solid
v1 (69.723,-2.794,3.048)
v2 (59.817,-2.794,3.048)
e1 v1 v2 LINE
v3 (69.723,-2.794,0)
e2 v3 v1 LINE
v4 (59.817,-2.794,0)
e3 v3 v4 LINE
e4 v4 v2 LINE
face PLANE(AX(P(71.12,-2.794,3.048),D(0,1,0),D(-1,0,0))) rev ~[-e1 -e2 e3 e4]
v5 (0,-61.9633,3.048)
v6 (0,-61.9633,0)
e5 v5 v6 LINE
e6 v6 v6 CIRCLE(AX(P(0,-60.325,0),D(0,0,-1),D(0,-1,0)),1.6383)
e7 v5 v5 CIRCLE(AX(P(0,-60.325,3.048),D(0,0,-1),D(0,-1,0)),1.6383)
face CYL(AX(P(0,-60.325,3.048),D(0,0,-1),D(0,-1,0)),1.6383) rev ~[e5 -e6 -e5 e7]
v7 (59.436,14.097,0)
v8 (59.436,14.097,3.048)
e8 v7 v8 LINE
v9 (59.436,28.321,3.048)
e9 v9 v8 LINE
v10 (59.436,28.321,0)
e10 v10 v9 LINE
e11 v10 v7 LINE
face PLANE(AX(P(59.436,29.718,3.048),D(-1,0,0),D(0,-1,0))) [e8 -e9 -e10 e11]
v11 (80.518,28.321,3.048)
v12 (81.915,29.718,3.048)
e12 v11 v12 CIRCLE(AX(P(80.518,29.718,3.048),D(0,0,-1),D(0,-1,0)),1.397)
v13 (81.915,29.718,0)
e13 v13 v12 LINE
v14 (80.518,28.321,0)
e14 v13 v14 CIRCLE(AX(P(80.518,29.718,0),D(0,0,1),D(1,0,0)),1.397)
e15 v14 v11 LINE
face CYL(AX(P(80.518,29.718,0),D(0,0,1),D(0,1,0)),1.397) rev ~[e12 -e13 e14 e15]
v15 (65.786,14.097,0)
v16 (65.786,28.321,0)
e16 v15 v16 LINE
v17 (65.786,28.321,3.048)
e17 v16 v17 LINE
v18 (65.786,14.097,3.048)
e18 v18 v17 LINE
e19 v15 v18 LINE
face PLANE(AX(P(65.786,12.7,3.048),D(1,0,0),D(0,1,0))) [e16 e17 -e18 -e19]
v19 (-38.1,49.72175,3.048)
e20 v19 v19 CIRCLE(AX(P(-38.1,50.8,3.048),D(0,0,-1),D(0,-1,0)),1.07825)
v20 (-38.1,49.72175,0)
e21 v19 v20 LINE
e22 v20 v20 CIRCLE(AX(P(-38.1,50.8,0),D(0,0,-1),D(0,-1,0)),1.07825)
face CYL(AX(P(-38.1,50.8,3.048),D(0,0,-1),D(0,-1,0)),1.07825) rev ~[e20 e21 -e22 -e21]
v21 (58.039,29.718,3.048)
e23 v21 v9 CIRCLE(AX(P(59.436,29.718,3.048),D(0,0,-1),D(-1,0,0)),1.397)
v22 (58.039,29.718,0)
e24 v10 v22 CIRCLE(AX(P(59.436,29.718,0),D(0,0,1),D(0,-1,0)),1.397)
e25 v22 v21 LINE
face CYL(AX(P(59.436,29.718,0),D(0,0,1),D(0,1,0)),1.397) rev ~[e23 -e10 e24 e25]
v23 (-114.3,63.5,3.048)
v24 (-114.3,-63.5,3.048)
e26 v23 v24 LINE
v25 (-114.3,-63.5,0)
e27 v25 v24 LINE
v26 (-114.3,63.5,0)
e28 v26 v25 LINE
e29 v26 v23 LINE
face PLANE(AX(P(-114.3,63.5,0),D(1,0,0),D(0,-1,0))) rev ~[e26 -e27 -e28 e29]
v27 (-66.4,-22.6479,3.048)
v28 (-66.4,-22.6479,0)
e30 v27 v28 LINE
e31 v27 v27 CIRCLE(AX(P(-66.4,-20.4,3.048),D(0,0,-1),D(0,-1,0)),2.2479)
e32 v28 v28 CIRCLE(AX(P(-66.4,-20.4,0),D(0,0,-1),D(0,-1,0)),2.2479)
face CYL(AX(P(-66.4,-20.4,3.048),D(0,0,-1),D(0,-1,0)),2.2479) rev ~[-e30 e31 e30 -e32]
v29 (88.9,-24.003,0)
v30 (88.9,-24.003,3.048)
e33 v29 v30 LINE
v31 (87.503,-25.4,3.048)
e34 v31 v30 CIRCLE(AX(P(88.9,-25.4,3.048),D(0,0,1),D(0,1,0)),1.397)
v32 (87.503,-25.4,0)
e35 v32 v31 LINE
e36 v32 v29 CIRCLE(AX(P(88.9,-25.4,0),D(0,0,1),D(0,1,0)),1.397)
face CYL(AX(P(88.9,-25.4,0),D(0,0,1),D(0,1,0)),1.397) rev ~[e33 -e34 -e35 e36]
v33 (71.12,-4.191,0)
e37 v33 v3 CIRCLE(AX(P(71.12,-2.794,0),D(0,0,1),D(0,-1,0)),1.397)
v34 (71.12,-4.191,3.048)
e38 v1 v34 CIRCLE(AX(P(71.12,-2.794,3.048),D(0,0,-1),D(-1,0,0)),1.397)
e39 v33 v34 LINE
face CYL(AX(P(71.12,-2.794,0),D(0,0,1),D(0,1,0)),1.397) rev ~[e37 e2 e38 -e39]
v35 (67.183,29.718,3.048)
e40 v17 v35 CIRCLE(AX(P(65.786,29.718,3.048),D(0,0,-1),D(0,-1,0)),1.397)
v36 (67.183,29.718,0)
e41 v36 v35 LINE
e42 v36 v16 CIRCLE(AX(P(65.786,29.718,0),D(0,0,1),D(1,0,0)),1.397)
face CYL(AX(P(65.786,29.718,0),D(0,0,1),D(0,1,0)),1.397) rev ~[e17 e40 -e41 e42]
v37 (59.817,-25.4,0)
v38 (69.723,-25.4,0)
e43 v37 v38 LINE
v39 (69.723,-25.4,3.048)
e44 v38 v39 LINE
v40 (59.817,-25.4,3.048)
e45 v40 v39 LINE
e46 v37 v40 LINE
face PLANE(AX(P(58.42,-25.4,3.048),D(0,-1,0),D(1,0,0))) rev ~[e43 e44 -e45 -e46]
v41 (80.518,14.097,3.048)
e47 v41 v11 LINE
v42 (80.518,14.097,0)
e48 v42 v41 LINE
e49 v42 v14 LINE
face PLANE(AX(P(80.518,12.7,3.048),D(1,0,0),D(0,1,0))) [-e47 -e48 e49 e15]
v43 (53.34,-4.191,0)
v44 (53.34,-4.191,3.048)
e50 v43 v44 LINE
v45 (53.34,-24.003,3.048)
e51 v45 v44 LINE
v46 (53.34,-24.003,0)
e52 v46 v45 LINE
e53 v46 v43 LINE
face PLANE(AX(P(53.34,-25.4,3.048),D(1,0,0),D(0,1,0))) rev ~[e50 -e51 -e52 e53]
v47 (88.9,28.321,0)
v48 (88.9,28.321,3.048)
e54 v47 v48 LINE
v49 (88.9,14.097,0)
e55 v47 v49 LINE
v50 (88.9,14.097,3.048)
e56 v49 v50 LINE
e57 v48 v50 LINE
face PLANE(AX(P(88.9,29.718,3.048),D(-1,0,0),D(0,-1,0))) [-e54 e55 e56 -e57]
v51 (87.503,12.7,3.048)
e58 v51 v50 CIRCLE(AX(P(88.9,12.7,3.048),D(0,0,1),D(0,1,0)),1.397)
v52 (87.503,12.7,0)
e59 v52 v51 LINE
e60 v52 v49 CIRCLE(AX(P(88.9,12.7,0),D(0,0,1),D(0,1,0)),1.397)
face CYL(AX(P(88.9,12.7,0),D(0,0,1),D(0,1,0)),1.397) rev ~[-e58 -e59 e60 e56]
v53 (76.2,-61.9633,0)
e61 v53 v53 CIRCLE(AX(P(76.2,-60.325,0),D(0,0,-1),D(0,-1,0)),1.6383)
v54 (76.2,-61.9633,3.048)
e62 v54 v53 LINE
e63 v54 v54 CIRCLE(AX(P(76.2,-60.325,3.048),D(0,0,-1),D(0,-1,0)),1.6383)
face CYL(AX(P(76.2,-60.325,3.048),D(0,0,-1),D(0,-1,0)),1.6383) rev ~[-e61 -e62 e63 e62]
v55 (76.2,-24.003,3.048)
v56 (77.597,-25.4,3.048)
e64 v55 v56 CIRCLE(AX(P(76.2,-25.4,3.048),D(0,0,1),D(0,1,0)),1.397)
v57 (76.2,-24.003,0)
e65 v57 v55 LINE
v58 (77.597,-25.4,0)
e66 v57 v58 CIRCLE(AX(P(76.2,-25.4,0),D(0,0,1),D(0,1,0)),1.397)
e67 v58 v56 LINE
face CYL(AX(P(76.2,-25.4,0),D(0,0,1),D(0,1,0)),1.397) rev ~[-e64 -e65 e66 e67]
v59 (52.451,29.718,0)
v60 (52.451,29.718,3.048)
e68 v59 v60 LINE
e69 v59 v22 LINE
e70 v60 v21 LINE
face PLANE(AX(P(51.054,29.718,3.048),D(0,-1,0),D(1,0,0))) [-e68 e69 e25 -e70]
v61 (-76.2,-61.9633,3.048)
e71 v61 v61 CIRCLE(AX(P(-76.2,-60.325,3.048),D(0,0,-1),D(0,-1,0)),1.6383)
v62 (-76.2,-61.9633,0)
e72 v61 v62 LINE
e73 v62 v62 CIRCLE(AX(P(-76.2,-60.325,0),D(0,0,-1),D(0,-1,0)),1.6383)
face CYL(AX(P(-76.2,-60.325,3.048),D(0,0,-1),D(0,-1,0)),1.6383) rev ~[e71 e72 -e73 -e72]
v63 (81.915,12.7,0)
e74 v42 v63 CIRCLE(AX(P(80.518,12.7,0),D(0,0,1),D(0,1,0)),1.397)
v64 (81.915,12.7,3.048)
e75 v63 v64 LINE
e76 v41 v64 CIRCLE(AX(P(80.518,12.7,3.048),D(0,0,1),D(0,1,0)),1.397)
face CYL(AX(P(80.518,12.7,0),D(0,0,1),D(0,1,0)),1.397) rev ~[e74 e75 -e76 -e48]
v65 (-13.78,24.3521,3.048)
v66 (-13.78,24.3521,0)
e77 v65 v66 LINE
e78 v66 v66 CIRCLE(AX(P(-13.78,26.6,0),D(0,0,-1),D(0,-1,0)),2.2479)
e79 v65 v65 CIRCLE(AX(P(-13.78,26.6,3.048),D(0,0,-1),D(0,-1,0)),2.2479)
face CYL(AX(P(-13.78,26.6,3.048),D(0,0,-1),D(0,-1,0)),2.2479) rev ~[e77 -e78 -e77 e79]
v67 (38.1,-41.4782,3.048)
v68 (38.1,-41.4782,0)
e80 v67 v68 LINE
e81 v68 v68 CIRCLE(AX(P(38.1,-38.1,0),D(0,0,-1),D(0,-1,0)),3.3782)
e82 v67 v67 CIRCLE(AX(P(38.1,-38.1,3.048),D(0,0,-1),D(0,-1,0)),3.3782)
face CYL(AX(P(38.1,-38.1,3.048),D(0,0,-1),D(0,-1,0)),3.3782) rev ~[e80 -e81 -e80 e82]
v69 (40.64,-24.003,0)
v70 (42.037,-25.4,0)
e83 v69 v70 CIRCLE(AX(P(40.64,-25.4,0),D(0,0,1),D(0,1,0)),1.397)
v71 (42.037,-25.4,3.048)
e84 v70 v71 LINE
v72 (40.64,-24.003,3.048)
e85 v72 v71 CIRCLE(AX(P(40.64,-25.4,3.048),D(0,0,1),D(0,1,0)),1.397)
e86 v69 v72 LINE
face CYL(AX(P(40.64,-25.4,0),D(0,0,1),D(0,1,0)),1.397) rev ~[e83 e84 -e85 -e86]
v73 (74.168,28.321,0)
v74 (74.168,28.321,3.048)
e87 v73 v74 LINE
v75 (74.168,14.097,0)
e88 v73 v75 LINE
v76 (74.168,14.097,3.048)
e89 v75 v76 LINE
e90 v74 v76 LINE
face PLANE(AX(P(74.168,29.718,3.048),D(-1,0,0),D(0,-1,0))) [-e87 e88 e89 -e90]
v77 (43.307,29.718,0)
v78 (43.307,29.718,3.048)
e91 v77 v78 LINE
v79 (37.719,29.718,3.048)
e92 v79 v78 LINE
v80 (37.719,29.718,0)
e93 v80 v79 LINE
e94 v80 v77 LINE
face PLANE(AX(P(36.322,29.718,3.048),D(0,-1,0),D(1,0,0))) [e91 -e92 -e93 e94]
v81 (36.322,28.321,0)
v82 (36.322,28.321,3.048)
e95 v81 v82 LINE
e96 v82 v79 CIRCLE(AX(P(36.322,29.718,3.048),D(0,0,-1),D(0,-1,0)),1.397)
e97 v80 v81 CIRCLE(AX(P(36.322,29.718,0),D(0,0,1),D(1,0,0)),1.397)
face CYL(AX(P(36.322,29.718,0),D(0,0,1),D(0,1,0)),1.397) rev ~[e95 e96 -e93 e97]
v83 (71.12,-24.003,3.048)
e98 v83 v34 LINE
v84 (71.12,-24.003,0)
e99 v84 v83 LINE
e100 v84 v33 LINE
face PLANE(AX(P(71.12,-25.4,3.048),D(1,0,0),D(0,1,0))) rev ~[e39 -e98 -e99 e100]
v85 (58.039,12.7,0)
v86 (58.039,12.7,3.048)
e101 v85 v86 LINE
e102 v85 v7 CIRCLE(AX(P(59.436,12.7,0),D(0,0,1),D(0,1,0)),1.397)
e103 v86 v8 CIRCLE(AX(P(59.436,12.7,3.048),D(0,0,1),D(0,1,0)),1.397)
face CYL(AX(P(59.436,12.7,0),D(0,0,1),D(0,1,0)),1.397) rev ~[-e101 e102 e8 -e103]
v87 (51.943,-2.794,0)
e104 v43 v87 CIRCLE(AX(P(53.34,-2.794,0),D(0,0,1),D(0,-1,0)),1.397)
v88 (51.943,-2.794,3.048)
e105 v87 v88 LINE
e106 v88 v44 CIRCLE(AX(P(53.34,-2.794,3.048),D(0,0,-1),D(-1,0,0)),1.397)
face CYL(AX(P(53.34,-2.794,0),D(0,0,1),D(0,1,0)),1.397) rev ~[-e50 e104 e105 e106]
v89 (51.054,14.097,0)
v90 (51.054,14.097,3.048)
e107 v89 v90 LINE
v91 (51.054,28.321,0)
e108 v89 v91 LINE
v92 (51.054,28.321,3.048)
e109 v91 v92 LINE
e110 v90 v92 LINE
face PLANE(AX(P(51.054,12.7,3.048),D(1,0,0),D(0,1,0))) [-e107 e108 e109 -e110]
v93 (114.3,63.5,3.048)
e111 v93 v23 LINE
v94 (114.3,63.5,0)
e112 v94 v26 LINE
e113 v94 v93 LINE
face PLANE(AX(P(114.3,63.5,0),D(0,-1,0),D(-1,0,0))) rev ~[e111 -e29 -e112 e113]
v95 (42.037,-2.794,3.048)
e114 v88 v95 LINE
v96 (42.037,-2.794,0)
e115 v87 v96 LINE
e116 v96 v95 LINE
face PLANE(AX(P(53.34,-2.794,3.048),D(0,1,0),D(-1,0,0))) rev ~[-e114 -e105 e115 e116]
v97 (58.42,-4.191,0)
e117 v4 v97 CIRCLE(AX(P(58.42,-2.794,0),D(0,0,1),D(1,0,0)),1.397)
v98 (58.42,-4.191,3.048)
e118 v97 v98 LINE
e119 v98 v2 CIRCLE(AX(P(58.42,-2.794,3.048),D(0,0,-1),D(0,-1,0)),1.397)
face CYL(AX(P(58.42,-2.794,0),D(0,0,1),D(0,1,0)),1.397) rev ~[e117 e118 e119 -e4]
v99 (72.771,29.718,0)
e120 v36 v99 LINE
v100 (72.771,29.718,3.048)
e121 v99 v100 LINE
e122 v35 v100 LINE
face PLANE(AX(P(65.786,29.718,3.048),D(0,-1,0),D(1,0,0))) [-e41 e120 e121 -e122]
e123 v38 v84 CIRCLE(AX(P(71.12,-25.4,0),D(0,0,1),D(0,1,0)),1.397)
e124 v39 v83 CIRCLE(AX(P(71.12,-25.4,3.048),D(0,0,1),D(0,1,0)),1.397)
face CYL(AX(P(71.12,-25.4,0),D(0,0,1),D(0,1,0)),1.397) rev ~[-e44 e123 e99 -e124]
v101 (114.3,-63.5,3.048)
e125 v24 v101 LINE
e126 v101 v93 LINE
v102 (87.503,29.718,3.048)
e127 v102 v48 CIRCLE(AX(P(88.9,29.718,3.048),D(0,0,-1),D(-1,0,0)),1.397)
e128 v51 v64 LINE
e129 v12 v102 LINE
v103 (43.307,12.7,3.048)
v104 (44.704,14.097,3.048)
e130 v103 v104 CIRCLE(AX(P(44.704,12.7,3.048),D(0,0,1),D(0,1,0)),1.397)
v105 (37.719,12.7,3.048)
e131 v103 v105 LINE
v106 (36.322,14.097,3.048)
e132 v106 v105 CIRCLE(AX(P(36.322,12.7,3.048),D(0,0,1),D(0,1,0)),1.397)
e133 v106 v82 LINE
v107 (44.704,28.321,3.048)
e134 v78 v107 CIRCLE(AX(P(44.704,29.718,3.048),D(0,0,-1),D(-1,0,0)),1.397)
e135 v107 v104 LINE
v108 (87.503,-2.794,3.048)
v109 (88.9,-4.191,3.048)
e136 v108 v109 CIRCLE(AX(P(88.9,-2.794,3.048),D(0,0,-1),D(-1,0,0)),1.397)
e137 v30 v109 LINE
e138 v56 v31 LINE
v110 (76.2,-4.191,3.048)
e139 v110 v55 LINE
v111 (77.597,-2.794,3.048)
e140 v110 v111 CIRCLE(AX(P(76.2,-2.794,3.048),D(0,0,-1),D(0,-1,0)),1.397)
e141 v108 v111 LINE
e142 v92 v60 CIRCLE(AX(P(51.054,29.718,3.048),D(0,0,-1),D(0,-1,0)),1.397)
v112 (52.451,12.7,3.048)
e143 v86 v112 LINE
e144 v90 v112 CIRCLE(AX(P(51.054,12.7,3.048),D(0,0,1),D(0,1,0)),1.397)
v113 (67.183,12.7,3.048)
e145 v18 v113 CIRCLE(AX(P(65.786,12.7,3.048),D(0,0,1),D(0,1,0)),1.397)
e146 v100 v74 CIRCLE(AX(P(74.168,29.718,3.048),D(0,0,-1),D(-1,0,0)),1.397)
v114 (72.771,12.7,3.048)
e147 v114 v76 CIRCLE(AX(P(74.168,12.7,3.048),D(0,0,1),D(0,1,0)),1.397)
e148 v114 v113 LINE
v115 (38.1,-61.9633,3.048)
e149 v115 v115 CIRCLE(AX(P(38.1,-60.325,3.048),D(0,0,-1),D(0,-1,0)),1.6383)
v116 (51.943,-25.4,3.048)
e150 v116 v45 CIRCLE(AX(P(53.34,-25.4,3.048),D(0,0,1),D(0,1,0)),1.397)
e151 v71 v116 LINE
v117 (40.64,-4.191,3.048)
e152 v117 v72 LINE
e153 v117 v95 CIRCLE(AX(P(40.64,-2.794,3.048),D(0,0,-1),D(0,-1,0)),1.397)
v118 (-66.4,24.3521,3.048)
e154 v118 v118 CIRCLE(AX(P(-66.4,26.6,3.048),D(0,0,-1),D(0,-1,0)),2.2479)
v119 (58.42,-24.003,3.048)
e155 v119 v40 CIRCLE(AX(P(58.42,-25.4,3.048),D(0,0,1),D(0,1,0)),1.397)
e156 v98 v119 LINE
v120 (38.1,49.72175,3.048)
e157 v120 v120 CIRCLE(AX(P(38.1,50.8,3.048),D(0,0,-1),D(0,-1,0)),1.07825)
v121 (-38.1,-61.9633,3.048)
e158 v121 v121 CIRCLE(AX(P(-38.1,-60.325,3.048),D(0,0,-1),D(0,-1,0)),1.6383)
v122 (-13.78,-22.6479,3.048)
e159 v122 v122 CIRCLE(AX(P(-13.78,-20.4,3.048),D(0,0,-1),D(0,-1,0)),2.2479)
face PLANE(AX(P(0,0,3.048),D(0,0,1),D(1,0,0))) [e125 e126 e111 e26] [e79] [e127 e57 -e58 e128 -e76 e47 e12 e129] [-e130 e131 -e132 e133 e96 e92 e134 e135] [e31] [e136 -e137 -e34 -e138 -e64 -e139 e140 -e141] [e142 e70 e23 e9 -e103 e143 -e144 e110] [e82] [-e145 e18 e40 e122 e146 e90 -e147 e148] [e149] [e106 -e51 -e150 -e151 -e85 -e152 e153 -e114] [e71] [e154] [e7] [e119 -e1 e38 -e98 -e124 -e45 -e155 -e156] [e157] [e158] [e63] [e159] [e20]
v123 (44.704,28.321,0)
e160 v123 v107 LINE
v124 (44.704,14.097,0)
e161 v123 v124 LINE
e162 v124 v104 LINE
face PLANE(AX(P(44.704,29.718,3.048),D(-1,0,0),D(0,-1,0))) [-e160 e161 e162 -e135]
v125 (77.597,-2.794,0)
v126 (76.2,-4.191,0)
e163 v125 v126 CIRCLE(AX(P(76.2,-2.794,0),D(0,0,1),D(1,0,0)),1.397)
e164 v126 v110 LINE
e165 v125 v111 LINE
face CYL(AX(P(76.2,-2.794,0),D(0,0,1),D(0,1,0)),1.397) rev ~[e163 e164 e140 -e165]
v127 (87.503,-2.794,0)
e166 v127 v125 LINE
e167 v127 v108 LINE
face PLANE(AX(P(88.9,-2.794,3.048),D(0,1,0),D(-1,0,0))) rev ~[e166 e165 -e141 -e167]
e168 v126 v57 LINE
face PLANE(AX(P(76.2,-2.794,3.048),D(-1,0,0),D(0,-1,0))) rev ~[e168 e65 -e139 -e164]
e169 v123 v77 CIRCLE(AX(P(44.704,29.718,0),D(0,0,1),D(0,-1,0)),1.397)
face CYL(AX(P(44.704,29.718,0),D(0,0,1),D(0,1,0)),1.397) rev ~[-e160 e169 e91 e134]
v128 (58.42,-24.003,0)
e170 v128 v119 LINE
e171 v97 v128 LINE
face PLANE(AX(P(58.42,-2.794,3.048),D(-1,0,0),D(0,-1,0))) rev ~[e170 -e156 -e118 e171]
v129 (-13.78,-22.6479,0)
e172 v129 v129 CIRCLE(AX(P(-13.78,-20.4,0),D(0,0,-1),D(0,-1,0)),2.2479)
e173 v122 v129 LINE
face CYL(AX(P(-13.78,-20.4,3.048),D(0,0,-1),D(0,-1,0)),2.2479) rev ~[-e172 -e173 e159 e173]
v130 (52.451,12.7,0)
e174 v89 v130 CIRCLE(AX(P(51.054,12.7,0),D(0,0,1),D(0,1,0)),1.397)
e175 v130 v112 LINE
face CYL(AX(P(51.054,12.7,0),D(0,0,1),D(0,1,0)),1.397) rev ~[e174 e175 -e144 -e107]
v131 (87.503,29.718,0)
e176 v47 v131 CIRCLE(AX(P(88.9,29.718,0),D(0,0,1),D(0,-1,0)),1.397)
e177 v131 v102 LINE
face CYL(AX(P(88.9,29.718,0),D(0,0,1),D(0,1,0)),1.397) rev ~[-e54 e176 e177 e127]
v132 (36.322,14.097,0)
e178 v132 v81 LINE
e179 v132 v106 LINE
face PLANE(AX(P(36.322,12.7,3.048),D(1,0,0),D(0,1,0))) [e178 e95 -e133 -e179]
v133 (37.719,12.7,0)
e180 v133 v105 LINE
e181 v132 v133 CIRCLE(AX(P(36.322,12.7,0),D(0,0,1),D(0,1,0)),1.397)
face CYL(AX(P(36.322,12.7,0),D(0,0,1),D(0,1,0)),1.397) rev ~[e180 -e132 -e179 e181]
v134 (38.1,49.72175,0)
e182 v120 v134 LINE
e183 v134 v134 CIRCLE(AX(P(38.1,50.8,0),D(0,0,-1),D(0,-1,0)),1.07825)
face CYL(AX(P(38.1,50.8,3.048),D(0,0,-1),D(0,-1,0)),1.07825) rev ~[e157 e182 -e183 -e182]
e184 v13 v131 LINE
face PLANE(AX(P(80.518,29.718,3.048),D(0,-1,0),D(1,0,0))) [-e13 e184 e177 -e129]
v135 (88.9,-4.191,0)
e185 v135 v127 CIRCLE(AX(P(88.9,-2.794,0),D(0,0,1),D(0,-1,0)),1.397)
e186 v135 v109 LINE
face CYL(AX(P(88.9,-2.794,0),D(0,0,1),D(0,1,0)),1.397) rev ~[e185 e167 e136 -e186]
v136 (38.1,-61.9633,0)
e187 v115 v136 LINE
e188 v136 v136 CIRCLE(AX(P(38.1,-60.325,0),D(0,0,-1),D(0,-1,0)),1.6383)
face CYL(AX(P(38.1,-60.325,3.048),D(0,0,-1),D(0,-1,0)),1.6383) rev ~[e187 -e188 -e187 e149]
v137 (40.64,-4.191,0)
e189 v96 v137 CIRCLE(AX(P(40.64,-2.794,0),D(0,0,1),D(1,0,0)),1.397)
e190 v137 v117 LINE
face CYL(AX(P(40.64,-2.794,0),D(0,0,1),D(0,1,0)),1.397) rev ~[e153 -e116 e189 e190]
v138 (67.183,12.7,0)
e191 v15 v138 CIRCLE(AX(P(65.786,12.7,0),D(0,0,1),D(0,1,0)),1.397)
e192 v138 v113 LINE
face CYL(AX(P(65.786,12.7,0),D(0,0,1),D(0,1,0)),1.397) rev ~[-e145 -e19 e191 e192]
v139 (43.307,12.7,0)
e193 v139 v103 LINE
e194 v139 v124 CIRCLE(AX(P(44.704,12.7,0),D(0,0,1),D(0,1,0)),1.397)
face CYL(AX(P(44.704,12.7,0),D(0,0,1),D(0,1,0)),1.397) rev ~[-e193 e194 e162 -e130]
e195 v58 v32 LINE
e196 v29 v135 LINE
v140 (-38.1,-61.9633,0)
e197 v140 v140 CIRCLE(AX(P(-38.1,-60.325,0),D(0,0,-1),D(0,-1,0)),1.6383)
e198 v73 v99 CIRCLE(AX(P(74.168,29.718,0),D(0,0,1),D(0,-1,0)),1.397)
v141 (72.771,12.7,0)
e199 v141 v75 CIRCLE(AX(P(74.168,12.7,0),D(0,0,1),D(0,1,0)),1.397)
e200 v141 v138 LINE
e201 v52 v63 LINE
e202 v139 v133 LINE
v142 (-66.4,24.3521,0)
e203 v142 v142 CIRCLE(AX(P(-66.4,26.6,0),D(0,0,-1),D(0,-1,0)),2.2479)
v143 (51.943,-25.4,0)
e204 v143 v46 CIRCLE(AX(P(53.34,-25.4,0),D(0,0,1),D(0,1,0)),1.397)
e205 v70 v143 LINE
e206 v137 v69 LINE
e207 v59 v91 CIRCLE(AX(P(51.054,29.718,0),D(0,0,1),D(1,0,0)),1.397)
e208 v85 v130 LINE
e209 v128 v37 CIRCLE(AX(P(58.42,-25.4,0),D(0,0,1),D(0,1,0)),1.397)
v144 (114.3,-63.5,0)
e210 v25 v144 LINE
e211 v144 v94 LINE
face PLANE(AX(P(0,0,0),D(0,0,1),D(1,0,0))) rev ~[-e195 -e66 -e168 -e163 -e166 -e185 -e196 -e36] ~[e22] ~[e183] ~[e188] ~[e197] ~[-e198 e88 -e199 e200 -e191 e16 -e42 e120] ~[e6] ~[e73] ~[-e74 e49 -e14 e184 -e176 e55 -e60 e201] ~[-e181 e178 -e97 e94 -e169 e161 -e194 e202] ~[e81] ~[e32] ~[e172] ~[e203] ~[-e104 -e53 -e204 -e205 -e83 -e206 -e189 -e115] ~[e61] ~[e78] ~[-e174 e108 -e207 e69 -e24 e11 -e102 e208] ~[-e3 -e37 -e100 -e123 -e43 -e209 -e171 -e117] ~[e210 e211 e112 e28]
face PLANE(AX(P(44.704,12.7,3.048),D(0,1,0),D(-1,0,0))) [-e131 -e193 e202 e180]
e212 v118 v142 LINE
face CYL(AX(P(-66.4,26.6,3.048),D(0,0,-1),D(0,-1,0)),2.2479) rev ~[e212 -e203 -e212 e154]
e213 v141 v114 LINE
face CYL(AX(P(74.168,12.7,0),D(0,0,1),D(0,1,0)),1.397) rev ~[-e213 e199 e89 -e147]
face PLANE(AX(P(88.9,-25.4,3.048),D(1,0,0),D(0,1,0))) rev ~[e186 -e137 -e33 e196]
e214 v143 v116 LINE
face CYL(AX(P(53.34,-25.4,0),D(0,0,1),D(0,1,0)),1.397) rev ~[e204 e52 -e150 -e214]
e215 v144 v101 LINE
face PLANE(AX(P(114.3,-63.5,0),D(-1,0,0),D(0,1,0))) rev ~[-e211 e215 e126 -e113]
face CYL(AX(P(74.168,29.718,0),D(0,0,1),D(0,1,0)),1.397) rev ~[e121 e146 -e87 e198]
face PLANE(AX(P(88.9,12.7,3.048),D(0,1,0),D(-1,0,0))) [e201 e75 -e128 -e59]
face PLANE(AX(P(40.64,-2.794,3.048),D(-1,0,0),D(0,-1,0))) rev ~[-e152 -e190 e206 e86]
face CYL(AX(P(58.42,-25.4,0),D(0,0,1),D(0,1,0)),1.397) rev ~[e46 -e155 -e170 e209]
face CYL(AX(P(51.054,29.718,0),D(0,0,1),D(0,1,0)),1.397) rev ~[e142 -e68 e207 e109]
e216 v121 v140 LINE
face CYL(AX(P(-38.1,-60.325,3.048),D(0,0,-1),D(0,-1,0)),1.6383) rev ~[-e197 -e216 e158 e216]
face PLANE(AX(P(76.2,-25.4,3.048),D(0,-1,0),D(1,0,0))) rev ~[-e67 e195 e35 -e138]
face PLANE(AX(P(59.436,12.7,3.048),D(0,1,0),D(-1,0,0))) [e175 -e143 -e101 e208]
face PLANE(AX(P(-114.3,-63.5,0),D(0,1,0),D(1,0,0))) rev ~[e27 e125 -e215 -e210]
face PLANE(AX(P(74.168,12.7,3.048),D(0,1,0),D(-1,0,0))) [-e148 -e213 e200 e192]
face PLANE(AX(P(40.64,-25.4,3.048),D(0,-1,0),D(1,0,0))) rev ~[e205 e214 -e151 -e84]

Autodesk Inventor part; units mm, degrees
ref_plane "YZ Plane" through (0, 0, 0) normal (1, 0, 0) x (0, 1, 0)
ref_plane "XZ Plane" through (0, 0, 0) normal (0, 1, 0) x (-1, 0, 0)
ref_plane "XY Plane" through (0, 0, 0) normal (0, 0, 1) x (1, 0, 0)
sketch "Sketch1" plane through (0, 0, 0) normal (0, 0, 1) x (1, 0, 0)
  line L0 (114.3, 63.5) -> (-114.3, 63.5)
  line L1 (-114.3, 63.5) -> (-114.3, -63.5)
  line L2 (-114.3, -63.5) -> (114.3, -63.5)
  line L3 (114.3, -63.5) -> (114.3, 63.5)
  point P0 (0, 0)
  dimension "d0" = 228.6
  dimension "d1" = 127
extrude "Plate1" add sketch "Sketch1" along normal blind 3.048
sketch "Sketch2" plane through (0, 0, 3.048) normal (0, 0, 1) x (1, 0, 0)
  line L0 (-114.3, 63.5) -> (-114.3, -63.5) projected
  line L1 (-114.3, -63.5) -> (-114.3, -60.325)
  line L2 (-114.3, -60.325) -> (-76.2, -60.325)
  line L3 (-76.2, -60.325) -> (-38.1, -60.325)
  line L4 (-38.1, -60.325) -> (0, -60.325)
  line L5 (0, -60.325) -> (38.1, -60.325)
  line L6 (38.1, -60.325) -> (76.2, -60.325)
  line L7 (76.2, -60.325) -> (114.3, -60.325)
  line L8 (114.3, -63.5) -> (114.3, 63.5) projected
  point P0 (0, 0)
  dimension "d3" = 3.175
  dimension "d4" = 38.1
  dimension "d5" = 38.1
  dimension "d6" = 38.1
  dimension "d7" = 38.1
hole "Hole1" at (-76.2, -60.325, 3.048) at (-38.1, -60.325, 3.048) at (0, -60.325, 3.048) at (38.1, -60.325, 3.048) at (76.2, -60.325, 3.048) direction (0, 0, -1) diameter 3.2766 depth 3.048 clearance for "Hex Machine Screw" size "#4" standard "Ansi Unified Screw Threads"
sketch "Sketch3" plane through (0, 0, 3.048) normal (0, 0, 1) x (1, 0, 0)
  line L0 (-114.3, -63.5) -> (114.3, -63.5) projected
  line L1 (-114.3, -63.5) -> (-114.3, -25.4)
  line L2 (-114.3, -63.5) -> (-114.3, 63.5) projected
  line L3 (-114.3, -25.4) -> (-88.9, -25.4)
  line L4 (-88.9, -25.4) -> (-88.9, 31.6)
  line L5 (-88.9, 31.6) -> (-43.9, 31.6)
  line L6 (-43.9, 31.6) -> (-43.9, -25.4)
  line L7 (-43.9, -25.4) -> (-88.9, -25.4)
  line L8 (-66.4, -25.4) -> (-66.4, -20.4)
  line L9 (-66.4, 31.6) -> (-66.4, 26.6)
  line L10 (-43.9, 31.6) -> (-36.28, 31.6)
  line L11 (-36.28, 31.6) -> (-36.28, -25.4)
  line L12 (-36.28, -25.4) -> (8.72, -25.4)
  line L13 (8.72, -25.4) -> (8.72, 31.6)
  line L14 (8.72, 31.6) -> (-36.28, 31.6)
  line L15 (-13.78, 31.6) -> (-13.78, 26.6)
  line L16 (-13.78, -25.4) -> (-13.78, -20.4)
  point P0 (0, 0)
  dimension "d15" = 38.1
  dimension "d16" = 25.4
  dimension "d17" = 57
  dimension "d18" = 45
  dimension "d19" = 5
  dimension "d20" = 5
  dimension "d21" = 7.62
  dimension "d22" = 45
  dimension "d23" = 5
  dimension "d24" = 5
hole "Hole2" at (-66.4, 26.6, 3.048) at (-13.78, 26.6, 3.048) at (-13.78, -20.4, 3.048) at (-66.4, -20.4, 3.048) direction (0, 0, -1) diameter 4.4958 depth 3.048 clearance for "Hex Machine Screw" size "#8" standard "Ansi Unified Screw Threads"
sketch "Sketch4" plane through (0, 0, 3.048) normal (0, 0, 1) x (1, 0, 0)
  line L0 (-114.3, -63.5) -> (114.3, -63.5) projected
  line L1 (114.3, -63.5) -> (114.3, -25.4)
  line L2 (114.3, -63.5) -> (114.3, 63.5) projected
  line L3 (114.3, -25.4) -> (88.9, -25.4)
  line L4 (88.9, -25.4) -> (88.9, -2.794)
  line L5 (88.9, -2.794) -> (76.2, -2.794)
  line L6 (76.2, -2.794) -> (71.12, -2.794)
  line L7 (71.12, -2.794) -> (58.42, -2.794)
  line L8 (58.42, -2.794) -> (53.34, -2.794)
  line L9 (53.34, -2.794) -> (40.64, -2.794)
  line L10 (40.64, -2.794) -> (40.64, -25.4)
  line L11 (40.64, -25.4) -> (53.34, -25.4)
  line L12 (53.34, -25.4) -> (53.34, -2.794)
  line L13 (58.42, -2.794) -> (58.42, -25.4)
  line L14 (58.42, -25.4) -> (71.12, -25.4)
  line L15 (71.12, -25.4) -> (71.12, -2.794)
  line L16 (76.2, -2.794) -> (76.2, -25.4)
  line L17 (76.2, -25.4) -> (88.9, -25.4)
  point P0 (0, 0)
  dimension "d32" = 38.1
  dimension "d33" = 25.4
  dimension "d34" = 22.606
  dimension "d35" = 12.7
  dimension "d36" = 5.08
  dimension "d37" = 12.7
  dimension "d38" = 5.08
  dimension "d39" = 12.7
extrude "Cut1" cut sketch "Sketch4" against normal blind 3.048
sketch "Sketch5" plane through (0, 0, 3.048) normal (0, 0, 1) x (1, 0, 0)
  line L0 (-114.3, -63.5) -> (114.3, -63.5) projected
  line L1 (114.3, -63.5) -> (114.3, 12.7)
  line L2 (114.3, -63.5) -> (114.3, 63.5) projected
  line L3 (114.3, 12.7) -> (88.9, 12.7)
  line L4 (88.9, 12.7) -> (80.518, 12.7)
  line L5 (80.518, 12.7) -> (80.518, 29.718)
  line L6 (80.518, 29.718) -> (74.168, 29.718)
  line L7 (74.168, 29.718) -> (74.168, 12.7)
  line L8 (74.168, 12.7) -> (65.786, 12.7)
  line L9 (65.786, 12.7) -> (65.786, 29.718)
  line L10 (65.786, 29.718) -> (74.168, 29.718)
  line L11 (80.518, 29.718) -> (88.9, 29.718)
  line L12 (88.9, 29.718) -> (88.9, 12.7)
  line L13 (65.786, 29.718) -> (59.436, 29.718)
  line L14 (59.436, 29.718) -> (59.436, 12.7)
  line L15 (59.436, 12.7) -> (51.054, 12.7)
  line L16 (51.054, 12.7) -> (51.054, 29.718)
  line L17 (51.054, 29.718) -> (59.436, 29.718)
  line L18 (51.054, 29.718) -> (44.704, 29.718)
  line L19 (44.704, 29.718) -> (44.704, 12.7)
  line L20 (44.704, 12.7) -> (36.322, 12.7)
  line L21 (36.322, 12.7) -> (36.322, 29.718)
  line L22 (36.322, 29.718) -> (44.704, 29.718)
  point P0 (0, 0)
  dimension "d42" = 76.2
  dimension "d43" = 25.4
  dimension "d44" = 270
  dimension "d45" = 8.382
  dimension "d46" = 17.018
  dimension "d47" = 6.35
  dimension "d48" = 8.382
  dimension "d49" = 6.35
  dimension "d50" = 8.382
  dimension "d51" = 6.35
  dimension "d52" = 8.382
extrude "Cut2" cut sketch "Sketch5" against normal blind 3.048
sketch "Sketch6" plane through (0, 0, 3.048) normal (0, 0, 1) x (1, 0, 0)
  line L0 (-114.3, 63.5) -> (114.3, 63.5) projected
  line L1 (-114.3, 63.5) -> (-114.3, 50.8)
  line L2 (-114.3, 63.5) -> (-114.3, -63.5) projected
  line L3 (-114.3, 50.8) -> (-38.1, 50.8)
  line L4 (-38.1, 50.8) -> (38.1, 50.8)
  line L5 (38.1, 50.8) -> (114.246, 50.8)
  point P0 (0, 0)
  dimension "d55" = 12.7
  dimension "d56" = 76.2
  dimension "d57" = 76.2
hole "Hole3" at (-38.1, 50.8, 3.048) at (38.1, 50.8, 3.048) direction (0, 0, -1) diameter 2.1565 depth 8.8646 thread size "4-40 UNC" class "2B" standard "ANSI Unified Screw Threads"
sketch "Sketch7" plane through (0, 0, 0) normal (0, 0, -1) x (-1, 0, 0)
  circle A0 centre (38.1, 50.8) radius 1.0782 projected
  circle A1 centre (-38.1, 50.8) radius 1.0782 projected
  line L0 (-65.786, 29.718) -> (-65.786, 12.7) projected
  line L1 (-65.786, 12.7) -> (-74.168, 12.7) projected
  line L2 (-74.168, 12.7) -> (-74.168, 29.718) projected
  line L3 (-74.168, 29.718) -> (-65.786, 29.718) projected
  line L4 (-36.322, 29.718) -> (-36.322, 12.7) projected
  line L5 (-36.322, 12.7) -> (-44.704, 12.7) projected
  line L6 (-44.704, 12.7) -> (-44.704, 29.718) projected
  line L7 (-44.704, 29.718) -> (-36.322, 29.718) projected
  line L8 (-51.054, 29.718) -> (-51.054, 12.7) projected
  line L9 (-51.054, 12.7) -> (-59.436, 12.7) projected
  line L10 (-59.436, 12.7) -> (-59.436, 29.718) projected
  line L11 (-59.436, 29.718) -> (-51.054, 29.718) projected
  line L12 (-88.9, 29.718) -> (-80.518, 29.718) projected
  line L13 (-80.518, 29.718) -> (-80.518, 12.7) projected
  line L14 (-80.518, 12.7) -> (-88.9, 12.7) projected
  line L15 (-88.9, 12.7) -> (-88.9, 29.718) projected
  line L16 (-58.42, -2.794) -> (-58.42, -25.4) projected
  line L17 (-58.42, -25.4) -> (-71.12, -25.4) projected
  line L18 (-71.12, -25.4) -> (-71.12, -2.794) projected
  line L19 (-71.12, -2.794) -> (-58.42, -2.794) projected
  line L20 (-40.64, -2.794) -> (-40.64, -25.4) projected
  line L21 (-40.64, -25.4) -> (-53.34, -25.4) projected
  line L22 (-53.34, -25.4) -> (-53.34, -2.794) projected
  line L23 (-53.34, -2.794) -> (-40.64, -2.794) projected
  line L24 (-88.9, -2.794) -> (-76.2, -2.794) projected
  line L25 (-76.2, -2.794) -> (-76.2, -25.4) projected
  line L26 (-76.2, -25.4) -> (-88.9, -25.4) projected
  line L27 (-88.9, -25.4) -> (-88.9, -2.794) projected
  circle A2 centre (13.78, -20.4) radius 2.2479 projected
  circle A3 centre (66.4, 26.6) radius 2.2479 projected
  circle A4 centre (13.78, 26.6) radius 2.2479 projected
  circle A5 centre (66.4, -20.4) radius 2.2479 projected
  circle A6 centre (-38.1, -60.325) radius 1.6383 projected
  circle A7 centre (38.1, -60.325) radius 1.6383 projected
  circle A8 centre (76.2, -60.325) radius 1.6383 projected
  circle A9 centre (0, -60.325) radius 1.6383 projected
  circle A10 centre (-76.2, -60.325) radius 1.6383 projected
  line L28 (-114.3, 63.5) -> (114.3, 63.5) projected
  line L29 (-114.3, -63.5) -> (-114.3, 63.5) projected
  line L30 (114.3, -63.5) -> (-114.3, -63.5) projected
  line L31 (114.3, 63.5) -> (114.3, -63.5) projected
  point P0 (0, 0)
hole "Hole4" at (40.64, -2.794, 0) at (40.64, -25.4, 0) at (53.34, -25.4, 0) at (53.34, -2.794, 0) at (58.42, -2.794, 0) at (58.42, -25.4, 0) at (71.12, -25.4, 0) at (71.12, -2.794, 0) at (76.2, -2.794, 0) at (76.2, -25.4, 0) at (88.9, -25.4, 0) at (88.9, -2.794, 0) at (80.518, 29.718, 0) at (88.9, 29.718, 0) at (88.9, 12.7, 0) at (80.518, 12.7, 0) at (74.168, 12.7, 0) at (74.168, 29.718, 0) at (65.786, 29.718, 0) at (65.786, 12.7, 0) at (59.436, 12.7, 0) at (59.436, 29.718, 0) at (51.054, 29.718, 0) at (51.054, 12.7, 0) at (44.704, 12.7, 0) at (36.322, 12.7, 0) at (36.322, 29.718, 0) at (44.704, 29.718, 0) direction (0, 0, 1) diameter 2.794 depth 3.048 clearance for "Flat Head Machine Screw (82)" size "#3" standard "Ansi Unified Screw Threads"
sketch "Sketch8" plane through (0, 0, 3.048) normal (0, 0, 1) x (1, 0, 0)
  line L0 (-114.3, -63.5) -> (114.3, -63.5) projected
  line L1 (114.3, -63.5) -> (63.5, -63.5)
  line L2 (63.5, -63.5) -> (63.5, -38.1)
  line L3 (63.5, -38.1) -> (38.1, -38.1)
  line L4 (38.1, -38.1) -> (12.7, -38.1)
  point P0 (0, 0)
  dimension "d72" = 50.8
  dimension "d73" = 25.4
  dimension "d74" = 25.4
  dimension "d75" = 25.4
hole "Hole5" at (38.1, -38.1, 3.048) direction (0, 0, -1) diameter 6.7564 depth 3.048 clearance for "Flat Head Machine Screw (82)" size "1/4" standard "Ansi Unified Screw Threads"
equation "\"d13\" = Thickness"
equation "\"d30\" = Thickness"
equation "\"d40\" = Thickness"
equation "\"d53\" = Thickness"
equation "\"d70\" = Thickness"
equation "\"d81\" = Thickness"
equation "\"d2\" = Thickness"
equation "\"BendRadius\" = Thickness"
equation "\"BendReliefWidth\" = Thickness"
equation "\"BendReliefDepth\" = 0.5 * Thickness"
equation "\"CornerReliefSize\" = 4 * Thickness"
equation "\"MinimumRemnant\" = 2 * Thickness"
equation "\"TransitionRadius\" = BendRadius"
equation "\"JacobiRadiusSize\" = BendRadius"
equation "\"GapSize\" = Thickness"
equation "\"Thickness\" = 3.048"
properties part number "sheetmetalleft2.0"
